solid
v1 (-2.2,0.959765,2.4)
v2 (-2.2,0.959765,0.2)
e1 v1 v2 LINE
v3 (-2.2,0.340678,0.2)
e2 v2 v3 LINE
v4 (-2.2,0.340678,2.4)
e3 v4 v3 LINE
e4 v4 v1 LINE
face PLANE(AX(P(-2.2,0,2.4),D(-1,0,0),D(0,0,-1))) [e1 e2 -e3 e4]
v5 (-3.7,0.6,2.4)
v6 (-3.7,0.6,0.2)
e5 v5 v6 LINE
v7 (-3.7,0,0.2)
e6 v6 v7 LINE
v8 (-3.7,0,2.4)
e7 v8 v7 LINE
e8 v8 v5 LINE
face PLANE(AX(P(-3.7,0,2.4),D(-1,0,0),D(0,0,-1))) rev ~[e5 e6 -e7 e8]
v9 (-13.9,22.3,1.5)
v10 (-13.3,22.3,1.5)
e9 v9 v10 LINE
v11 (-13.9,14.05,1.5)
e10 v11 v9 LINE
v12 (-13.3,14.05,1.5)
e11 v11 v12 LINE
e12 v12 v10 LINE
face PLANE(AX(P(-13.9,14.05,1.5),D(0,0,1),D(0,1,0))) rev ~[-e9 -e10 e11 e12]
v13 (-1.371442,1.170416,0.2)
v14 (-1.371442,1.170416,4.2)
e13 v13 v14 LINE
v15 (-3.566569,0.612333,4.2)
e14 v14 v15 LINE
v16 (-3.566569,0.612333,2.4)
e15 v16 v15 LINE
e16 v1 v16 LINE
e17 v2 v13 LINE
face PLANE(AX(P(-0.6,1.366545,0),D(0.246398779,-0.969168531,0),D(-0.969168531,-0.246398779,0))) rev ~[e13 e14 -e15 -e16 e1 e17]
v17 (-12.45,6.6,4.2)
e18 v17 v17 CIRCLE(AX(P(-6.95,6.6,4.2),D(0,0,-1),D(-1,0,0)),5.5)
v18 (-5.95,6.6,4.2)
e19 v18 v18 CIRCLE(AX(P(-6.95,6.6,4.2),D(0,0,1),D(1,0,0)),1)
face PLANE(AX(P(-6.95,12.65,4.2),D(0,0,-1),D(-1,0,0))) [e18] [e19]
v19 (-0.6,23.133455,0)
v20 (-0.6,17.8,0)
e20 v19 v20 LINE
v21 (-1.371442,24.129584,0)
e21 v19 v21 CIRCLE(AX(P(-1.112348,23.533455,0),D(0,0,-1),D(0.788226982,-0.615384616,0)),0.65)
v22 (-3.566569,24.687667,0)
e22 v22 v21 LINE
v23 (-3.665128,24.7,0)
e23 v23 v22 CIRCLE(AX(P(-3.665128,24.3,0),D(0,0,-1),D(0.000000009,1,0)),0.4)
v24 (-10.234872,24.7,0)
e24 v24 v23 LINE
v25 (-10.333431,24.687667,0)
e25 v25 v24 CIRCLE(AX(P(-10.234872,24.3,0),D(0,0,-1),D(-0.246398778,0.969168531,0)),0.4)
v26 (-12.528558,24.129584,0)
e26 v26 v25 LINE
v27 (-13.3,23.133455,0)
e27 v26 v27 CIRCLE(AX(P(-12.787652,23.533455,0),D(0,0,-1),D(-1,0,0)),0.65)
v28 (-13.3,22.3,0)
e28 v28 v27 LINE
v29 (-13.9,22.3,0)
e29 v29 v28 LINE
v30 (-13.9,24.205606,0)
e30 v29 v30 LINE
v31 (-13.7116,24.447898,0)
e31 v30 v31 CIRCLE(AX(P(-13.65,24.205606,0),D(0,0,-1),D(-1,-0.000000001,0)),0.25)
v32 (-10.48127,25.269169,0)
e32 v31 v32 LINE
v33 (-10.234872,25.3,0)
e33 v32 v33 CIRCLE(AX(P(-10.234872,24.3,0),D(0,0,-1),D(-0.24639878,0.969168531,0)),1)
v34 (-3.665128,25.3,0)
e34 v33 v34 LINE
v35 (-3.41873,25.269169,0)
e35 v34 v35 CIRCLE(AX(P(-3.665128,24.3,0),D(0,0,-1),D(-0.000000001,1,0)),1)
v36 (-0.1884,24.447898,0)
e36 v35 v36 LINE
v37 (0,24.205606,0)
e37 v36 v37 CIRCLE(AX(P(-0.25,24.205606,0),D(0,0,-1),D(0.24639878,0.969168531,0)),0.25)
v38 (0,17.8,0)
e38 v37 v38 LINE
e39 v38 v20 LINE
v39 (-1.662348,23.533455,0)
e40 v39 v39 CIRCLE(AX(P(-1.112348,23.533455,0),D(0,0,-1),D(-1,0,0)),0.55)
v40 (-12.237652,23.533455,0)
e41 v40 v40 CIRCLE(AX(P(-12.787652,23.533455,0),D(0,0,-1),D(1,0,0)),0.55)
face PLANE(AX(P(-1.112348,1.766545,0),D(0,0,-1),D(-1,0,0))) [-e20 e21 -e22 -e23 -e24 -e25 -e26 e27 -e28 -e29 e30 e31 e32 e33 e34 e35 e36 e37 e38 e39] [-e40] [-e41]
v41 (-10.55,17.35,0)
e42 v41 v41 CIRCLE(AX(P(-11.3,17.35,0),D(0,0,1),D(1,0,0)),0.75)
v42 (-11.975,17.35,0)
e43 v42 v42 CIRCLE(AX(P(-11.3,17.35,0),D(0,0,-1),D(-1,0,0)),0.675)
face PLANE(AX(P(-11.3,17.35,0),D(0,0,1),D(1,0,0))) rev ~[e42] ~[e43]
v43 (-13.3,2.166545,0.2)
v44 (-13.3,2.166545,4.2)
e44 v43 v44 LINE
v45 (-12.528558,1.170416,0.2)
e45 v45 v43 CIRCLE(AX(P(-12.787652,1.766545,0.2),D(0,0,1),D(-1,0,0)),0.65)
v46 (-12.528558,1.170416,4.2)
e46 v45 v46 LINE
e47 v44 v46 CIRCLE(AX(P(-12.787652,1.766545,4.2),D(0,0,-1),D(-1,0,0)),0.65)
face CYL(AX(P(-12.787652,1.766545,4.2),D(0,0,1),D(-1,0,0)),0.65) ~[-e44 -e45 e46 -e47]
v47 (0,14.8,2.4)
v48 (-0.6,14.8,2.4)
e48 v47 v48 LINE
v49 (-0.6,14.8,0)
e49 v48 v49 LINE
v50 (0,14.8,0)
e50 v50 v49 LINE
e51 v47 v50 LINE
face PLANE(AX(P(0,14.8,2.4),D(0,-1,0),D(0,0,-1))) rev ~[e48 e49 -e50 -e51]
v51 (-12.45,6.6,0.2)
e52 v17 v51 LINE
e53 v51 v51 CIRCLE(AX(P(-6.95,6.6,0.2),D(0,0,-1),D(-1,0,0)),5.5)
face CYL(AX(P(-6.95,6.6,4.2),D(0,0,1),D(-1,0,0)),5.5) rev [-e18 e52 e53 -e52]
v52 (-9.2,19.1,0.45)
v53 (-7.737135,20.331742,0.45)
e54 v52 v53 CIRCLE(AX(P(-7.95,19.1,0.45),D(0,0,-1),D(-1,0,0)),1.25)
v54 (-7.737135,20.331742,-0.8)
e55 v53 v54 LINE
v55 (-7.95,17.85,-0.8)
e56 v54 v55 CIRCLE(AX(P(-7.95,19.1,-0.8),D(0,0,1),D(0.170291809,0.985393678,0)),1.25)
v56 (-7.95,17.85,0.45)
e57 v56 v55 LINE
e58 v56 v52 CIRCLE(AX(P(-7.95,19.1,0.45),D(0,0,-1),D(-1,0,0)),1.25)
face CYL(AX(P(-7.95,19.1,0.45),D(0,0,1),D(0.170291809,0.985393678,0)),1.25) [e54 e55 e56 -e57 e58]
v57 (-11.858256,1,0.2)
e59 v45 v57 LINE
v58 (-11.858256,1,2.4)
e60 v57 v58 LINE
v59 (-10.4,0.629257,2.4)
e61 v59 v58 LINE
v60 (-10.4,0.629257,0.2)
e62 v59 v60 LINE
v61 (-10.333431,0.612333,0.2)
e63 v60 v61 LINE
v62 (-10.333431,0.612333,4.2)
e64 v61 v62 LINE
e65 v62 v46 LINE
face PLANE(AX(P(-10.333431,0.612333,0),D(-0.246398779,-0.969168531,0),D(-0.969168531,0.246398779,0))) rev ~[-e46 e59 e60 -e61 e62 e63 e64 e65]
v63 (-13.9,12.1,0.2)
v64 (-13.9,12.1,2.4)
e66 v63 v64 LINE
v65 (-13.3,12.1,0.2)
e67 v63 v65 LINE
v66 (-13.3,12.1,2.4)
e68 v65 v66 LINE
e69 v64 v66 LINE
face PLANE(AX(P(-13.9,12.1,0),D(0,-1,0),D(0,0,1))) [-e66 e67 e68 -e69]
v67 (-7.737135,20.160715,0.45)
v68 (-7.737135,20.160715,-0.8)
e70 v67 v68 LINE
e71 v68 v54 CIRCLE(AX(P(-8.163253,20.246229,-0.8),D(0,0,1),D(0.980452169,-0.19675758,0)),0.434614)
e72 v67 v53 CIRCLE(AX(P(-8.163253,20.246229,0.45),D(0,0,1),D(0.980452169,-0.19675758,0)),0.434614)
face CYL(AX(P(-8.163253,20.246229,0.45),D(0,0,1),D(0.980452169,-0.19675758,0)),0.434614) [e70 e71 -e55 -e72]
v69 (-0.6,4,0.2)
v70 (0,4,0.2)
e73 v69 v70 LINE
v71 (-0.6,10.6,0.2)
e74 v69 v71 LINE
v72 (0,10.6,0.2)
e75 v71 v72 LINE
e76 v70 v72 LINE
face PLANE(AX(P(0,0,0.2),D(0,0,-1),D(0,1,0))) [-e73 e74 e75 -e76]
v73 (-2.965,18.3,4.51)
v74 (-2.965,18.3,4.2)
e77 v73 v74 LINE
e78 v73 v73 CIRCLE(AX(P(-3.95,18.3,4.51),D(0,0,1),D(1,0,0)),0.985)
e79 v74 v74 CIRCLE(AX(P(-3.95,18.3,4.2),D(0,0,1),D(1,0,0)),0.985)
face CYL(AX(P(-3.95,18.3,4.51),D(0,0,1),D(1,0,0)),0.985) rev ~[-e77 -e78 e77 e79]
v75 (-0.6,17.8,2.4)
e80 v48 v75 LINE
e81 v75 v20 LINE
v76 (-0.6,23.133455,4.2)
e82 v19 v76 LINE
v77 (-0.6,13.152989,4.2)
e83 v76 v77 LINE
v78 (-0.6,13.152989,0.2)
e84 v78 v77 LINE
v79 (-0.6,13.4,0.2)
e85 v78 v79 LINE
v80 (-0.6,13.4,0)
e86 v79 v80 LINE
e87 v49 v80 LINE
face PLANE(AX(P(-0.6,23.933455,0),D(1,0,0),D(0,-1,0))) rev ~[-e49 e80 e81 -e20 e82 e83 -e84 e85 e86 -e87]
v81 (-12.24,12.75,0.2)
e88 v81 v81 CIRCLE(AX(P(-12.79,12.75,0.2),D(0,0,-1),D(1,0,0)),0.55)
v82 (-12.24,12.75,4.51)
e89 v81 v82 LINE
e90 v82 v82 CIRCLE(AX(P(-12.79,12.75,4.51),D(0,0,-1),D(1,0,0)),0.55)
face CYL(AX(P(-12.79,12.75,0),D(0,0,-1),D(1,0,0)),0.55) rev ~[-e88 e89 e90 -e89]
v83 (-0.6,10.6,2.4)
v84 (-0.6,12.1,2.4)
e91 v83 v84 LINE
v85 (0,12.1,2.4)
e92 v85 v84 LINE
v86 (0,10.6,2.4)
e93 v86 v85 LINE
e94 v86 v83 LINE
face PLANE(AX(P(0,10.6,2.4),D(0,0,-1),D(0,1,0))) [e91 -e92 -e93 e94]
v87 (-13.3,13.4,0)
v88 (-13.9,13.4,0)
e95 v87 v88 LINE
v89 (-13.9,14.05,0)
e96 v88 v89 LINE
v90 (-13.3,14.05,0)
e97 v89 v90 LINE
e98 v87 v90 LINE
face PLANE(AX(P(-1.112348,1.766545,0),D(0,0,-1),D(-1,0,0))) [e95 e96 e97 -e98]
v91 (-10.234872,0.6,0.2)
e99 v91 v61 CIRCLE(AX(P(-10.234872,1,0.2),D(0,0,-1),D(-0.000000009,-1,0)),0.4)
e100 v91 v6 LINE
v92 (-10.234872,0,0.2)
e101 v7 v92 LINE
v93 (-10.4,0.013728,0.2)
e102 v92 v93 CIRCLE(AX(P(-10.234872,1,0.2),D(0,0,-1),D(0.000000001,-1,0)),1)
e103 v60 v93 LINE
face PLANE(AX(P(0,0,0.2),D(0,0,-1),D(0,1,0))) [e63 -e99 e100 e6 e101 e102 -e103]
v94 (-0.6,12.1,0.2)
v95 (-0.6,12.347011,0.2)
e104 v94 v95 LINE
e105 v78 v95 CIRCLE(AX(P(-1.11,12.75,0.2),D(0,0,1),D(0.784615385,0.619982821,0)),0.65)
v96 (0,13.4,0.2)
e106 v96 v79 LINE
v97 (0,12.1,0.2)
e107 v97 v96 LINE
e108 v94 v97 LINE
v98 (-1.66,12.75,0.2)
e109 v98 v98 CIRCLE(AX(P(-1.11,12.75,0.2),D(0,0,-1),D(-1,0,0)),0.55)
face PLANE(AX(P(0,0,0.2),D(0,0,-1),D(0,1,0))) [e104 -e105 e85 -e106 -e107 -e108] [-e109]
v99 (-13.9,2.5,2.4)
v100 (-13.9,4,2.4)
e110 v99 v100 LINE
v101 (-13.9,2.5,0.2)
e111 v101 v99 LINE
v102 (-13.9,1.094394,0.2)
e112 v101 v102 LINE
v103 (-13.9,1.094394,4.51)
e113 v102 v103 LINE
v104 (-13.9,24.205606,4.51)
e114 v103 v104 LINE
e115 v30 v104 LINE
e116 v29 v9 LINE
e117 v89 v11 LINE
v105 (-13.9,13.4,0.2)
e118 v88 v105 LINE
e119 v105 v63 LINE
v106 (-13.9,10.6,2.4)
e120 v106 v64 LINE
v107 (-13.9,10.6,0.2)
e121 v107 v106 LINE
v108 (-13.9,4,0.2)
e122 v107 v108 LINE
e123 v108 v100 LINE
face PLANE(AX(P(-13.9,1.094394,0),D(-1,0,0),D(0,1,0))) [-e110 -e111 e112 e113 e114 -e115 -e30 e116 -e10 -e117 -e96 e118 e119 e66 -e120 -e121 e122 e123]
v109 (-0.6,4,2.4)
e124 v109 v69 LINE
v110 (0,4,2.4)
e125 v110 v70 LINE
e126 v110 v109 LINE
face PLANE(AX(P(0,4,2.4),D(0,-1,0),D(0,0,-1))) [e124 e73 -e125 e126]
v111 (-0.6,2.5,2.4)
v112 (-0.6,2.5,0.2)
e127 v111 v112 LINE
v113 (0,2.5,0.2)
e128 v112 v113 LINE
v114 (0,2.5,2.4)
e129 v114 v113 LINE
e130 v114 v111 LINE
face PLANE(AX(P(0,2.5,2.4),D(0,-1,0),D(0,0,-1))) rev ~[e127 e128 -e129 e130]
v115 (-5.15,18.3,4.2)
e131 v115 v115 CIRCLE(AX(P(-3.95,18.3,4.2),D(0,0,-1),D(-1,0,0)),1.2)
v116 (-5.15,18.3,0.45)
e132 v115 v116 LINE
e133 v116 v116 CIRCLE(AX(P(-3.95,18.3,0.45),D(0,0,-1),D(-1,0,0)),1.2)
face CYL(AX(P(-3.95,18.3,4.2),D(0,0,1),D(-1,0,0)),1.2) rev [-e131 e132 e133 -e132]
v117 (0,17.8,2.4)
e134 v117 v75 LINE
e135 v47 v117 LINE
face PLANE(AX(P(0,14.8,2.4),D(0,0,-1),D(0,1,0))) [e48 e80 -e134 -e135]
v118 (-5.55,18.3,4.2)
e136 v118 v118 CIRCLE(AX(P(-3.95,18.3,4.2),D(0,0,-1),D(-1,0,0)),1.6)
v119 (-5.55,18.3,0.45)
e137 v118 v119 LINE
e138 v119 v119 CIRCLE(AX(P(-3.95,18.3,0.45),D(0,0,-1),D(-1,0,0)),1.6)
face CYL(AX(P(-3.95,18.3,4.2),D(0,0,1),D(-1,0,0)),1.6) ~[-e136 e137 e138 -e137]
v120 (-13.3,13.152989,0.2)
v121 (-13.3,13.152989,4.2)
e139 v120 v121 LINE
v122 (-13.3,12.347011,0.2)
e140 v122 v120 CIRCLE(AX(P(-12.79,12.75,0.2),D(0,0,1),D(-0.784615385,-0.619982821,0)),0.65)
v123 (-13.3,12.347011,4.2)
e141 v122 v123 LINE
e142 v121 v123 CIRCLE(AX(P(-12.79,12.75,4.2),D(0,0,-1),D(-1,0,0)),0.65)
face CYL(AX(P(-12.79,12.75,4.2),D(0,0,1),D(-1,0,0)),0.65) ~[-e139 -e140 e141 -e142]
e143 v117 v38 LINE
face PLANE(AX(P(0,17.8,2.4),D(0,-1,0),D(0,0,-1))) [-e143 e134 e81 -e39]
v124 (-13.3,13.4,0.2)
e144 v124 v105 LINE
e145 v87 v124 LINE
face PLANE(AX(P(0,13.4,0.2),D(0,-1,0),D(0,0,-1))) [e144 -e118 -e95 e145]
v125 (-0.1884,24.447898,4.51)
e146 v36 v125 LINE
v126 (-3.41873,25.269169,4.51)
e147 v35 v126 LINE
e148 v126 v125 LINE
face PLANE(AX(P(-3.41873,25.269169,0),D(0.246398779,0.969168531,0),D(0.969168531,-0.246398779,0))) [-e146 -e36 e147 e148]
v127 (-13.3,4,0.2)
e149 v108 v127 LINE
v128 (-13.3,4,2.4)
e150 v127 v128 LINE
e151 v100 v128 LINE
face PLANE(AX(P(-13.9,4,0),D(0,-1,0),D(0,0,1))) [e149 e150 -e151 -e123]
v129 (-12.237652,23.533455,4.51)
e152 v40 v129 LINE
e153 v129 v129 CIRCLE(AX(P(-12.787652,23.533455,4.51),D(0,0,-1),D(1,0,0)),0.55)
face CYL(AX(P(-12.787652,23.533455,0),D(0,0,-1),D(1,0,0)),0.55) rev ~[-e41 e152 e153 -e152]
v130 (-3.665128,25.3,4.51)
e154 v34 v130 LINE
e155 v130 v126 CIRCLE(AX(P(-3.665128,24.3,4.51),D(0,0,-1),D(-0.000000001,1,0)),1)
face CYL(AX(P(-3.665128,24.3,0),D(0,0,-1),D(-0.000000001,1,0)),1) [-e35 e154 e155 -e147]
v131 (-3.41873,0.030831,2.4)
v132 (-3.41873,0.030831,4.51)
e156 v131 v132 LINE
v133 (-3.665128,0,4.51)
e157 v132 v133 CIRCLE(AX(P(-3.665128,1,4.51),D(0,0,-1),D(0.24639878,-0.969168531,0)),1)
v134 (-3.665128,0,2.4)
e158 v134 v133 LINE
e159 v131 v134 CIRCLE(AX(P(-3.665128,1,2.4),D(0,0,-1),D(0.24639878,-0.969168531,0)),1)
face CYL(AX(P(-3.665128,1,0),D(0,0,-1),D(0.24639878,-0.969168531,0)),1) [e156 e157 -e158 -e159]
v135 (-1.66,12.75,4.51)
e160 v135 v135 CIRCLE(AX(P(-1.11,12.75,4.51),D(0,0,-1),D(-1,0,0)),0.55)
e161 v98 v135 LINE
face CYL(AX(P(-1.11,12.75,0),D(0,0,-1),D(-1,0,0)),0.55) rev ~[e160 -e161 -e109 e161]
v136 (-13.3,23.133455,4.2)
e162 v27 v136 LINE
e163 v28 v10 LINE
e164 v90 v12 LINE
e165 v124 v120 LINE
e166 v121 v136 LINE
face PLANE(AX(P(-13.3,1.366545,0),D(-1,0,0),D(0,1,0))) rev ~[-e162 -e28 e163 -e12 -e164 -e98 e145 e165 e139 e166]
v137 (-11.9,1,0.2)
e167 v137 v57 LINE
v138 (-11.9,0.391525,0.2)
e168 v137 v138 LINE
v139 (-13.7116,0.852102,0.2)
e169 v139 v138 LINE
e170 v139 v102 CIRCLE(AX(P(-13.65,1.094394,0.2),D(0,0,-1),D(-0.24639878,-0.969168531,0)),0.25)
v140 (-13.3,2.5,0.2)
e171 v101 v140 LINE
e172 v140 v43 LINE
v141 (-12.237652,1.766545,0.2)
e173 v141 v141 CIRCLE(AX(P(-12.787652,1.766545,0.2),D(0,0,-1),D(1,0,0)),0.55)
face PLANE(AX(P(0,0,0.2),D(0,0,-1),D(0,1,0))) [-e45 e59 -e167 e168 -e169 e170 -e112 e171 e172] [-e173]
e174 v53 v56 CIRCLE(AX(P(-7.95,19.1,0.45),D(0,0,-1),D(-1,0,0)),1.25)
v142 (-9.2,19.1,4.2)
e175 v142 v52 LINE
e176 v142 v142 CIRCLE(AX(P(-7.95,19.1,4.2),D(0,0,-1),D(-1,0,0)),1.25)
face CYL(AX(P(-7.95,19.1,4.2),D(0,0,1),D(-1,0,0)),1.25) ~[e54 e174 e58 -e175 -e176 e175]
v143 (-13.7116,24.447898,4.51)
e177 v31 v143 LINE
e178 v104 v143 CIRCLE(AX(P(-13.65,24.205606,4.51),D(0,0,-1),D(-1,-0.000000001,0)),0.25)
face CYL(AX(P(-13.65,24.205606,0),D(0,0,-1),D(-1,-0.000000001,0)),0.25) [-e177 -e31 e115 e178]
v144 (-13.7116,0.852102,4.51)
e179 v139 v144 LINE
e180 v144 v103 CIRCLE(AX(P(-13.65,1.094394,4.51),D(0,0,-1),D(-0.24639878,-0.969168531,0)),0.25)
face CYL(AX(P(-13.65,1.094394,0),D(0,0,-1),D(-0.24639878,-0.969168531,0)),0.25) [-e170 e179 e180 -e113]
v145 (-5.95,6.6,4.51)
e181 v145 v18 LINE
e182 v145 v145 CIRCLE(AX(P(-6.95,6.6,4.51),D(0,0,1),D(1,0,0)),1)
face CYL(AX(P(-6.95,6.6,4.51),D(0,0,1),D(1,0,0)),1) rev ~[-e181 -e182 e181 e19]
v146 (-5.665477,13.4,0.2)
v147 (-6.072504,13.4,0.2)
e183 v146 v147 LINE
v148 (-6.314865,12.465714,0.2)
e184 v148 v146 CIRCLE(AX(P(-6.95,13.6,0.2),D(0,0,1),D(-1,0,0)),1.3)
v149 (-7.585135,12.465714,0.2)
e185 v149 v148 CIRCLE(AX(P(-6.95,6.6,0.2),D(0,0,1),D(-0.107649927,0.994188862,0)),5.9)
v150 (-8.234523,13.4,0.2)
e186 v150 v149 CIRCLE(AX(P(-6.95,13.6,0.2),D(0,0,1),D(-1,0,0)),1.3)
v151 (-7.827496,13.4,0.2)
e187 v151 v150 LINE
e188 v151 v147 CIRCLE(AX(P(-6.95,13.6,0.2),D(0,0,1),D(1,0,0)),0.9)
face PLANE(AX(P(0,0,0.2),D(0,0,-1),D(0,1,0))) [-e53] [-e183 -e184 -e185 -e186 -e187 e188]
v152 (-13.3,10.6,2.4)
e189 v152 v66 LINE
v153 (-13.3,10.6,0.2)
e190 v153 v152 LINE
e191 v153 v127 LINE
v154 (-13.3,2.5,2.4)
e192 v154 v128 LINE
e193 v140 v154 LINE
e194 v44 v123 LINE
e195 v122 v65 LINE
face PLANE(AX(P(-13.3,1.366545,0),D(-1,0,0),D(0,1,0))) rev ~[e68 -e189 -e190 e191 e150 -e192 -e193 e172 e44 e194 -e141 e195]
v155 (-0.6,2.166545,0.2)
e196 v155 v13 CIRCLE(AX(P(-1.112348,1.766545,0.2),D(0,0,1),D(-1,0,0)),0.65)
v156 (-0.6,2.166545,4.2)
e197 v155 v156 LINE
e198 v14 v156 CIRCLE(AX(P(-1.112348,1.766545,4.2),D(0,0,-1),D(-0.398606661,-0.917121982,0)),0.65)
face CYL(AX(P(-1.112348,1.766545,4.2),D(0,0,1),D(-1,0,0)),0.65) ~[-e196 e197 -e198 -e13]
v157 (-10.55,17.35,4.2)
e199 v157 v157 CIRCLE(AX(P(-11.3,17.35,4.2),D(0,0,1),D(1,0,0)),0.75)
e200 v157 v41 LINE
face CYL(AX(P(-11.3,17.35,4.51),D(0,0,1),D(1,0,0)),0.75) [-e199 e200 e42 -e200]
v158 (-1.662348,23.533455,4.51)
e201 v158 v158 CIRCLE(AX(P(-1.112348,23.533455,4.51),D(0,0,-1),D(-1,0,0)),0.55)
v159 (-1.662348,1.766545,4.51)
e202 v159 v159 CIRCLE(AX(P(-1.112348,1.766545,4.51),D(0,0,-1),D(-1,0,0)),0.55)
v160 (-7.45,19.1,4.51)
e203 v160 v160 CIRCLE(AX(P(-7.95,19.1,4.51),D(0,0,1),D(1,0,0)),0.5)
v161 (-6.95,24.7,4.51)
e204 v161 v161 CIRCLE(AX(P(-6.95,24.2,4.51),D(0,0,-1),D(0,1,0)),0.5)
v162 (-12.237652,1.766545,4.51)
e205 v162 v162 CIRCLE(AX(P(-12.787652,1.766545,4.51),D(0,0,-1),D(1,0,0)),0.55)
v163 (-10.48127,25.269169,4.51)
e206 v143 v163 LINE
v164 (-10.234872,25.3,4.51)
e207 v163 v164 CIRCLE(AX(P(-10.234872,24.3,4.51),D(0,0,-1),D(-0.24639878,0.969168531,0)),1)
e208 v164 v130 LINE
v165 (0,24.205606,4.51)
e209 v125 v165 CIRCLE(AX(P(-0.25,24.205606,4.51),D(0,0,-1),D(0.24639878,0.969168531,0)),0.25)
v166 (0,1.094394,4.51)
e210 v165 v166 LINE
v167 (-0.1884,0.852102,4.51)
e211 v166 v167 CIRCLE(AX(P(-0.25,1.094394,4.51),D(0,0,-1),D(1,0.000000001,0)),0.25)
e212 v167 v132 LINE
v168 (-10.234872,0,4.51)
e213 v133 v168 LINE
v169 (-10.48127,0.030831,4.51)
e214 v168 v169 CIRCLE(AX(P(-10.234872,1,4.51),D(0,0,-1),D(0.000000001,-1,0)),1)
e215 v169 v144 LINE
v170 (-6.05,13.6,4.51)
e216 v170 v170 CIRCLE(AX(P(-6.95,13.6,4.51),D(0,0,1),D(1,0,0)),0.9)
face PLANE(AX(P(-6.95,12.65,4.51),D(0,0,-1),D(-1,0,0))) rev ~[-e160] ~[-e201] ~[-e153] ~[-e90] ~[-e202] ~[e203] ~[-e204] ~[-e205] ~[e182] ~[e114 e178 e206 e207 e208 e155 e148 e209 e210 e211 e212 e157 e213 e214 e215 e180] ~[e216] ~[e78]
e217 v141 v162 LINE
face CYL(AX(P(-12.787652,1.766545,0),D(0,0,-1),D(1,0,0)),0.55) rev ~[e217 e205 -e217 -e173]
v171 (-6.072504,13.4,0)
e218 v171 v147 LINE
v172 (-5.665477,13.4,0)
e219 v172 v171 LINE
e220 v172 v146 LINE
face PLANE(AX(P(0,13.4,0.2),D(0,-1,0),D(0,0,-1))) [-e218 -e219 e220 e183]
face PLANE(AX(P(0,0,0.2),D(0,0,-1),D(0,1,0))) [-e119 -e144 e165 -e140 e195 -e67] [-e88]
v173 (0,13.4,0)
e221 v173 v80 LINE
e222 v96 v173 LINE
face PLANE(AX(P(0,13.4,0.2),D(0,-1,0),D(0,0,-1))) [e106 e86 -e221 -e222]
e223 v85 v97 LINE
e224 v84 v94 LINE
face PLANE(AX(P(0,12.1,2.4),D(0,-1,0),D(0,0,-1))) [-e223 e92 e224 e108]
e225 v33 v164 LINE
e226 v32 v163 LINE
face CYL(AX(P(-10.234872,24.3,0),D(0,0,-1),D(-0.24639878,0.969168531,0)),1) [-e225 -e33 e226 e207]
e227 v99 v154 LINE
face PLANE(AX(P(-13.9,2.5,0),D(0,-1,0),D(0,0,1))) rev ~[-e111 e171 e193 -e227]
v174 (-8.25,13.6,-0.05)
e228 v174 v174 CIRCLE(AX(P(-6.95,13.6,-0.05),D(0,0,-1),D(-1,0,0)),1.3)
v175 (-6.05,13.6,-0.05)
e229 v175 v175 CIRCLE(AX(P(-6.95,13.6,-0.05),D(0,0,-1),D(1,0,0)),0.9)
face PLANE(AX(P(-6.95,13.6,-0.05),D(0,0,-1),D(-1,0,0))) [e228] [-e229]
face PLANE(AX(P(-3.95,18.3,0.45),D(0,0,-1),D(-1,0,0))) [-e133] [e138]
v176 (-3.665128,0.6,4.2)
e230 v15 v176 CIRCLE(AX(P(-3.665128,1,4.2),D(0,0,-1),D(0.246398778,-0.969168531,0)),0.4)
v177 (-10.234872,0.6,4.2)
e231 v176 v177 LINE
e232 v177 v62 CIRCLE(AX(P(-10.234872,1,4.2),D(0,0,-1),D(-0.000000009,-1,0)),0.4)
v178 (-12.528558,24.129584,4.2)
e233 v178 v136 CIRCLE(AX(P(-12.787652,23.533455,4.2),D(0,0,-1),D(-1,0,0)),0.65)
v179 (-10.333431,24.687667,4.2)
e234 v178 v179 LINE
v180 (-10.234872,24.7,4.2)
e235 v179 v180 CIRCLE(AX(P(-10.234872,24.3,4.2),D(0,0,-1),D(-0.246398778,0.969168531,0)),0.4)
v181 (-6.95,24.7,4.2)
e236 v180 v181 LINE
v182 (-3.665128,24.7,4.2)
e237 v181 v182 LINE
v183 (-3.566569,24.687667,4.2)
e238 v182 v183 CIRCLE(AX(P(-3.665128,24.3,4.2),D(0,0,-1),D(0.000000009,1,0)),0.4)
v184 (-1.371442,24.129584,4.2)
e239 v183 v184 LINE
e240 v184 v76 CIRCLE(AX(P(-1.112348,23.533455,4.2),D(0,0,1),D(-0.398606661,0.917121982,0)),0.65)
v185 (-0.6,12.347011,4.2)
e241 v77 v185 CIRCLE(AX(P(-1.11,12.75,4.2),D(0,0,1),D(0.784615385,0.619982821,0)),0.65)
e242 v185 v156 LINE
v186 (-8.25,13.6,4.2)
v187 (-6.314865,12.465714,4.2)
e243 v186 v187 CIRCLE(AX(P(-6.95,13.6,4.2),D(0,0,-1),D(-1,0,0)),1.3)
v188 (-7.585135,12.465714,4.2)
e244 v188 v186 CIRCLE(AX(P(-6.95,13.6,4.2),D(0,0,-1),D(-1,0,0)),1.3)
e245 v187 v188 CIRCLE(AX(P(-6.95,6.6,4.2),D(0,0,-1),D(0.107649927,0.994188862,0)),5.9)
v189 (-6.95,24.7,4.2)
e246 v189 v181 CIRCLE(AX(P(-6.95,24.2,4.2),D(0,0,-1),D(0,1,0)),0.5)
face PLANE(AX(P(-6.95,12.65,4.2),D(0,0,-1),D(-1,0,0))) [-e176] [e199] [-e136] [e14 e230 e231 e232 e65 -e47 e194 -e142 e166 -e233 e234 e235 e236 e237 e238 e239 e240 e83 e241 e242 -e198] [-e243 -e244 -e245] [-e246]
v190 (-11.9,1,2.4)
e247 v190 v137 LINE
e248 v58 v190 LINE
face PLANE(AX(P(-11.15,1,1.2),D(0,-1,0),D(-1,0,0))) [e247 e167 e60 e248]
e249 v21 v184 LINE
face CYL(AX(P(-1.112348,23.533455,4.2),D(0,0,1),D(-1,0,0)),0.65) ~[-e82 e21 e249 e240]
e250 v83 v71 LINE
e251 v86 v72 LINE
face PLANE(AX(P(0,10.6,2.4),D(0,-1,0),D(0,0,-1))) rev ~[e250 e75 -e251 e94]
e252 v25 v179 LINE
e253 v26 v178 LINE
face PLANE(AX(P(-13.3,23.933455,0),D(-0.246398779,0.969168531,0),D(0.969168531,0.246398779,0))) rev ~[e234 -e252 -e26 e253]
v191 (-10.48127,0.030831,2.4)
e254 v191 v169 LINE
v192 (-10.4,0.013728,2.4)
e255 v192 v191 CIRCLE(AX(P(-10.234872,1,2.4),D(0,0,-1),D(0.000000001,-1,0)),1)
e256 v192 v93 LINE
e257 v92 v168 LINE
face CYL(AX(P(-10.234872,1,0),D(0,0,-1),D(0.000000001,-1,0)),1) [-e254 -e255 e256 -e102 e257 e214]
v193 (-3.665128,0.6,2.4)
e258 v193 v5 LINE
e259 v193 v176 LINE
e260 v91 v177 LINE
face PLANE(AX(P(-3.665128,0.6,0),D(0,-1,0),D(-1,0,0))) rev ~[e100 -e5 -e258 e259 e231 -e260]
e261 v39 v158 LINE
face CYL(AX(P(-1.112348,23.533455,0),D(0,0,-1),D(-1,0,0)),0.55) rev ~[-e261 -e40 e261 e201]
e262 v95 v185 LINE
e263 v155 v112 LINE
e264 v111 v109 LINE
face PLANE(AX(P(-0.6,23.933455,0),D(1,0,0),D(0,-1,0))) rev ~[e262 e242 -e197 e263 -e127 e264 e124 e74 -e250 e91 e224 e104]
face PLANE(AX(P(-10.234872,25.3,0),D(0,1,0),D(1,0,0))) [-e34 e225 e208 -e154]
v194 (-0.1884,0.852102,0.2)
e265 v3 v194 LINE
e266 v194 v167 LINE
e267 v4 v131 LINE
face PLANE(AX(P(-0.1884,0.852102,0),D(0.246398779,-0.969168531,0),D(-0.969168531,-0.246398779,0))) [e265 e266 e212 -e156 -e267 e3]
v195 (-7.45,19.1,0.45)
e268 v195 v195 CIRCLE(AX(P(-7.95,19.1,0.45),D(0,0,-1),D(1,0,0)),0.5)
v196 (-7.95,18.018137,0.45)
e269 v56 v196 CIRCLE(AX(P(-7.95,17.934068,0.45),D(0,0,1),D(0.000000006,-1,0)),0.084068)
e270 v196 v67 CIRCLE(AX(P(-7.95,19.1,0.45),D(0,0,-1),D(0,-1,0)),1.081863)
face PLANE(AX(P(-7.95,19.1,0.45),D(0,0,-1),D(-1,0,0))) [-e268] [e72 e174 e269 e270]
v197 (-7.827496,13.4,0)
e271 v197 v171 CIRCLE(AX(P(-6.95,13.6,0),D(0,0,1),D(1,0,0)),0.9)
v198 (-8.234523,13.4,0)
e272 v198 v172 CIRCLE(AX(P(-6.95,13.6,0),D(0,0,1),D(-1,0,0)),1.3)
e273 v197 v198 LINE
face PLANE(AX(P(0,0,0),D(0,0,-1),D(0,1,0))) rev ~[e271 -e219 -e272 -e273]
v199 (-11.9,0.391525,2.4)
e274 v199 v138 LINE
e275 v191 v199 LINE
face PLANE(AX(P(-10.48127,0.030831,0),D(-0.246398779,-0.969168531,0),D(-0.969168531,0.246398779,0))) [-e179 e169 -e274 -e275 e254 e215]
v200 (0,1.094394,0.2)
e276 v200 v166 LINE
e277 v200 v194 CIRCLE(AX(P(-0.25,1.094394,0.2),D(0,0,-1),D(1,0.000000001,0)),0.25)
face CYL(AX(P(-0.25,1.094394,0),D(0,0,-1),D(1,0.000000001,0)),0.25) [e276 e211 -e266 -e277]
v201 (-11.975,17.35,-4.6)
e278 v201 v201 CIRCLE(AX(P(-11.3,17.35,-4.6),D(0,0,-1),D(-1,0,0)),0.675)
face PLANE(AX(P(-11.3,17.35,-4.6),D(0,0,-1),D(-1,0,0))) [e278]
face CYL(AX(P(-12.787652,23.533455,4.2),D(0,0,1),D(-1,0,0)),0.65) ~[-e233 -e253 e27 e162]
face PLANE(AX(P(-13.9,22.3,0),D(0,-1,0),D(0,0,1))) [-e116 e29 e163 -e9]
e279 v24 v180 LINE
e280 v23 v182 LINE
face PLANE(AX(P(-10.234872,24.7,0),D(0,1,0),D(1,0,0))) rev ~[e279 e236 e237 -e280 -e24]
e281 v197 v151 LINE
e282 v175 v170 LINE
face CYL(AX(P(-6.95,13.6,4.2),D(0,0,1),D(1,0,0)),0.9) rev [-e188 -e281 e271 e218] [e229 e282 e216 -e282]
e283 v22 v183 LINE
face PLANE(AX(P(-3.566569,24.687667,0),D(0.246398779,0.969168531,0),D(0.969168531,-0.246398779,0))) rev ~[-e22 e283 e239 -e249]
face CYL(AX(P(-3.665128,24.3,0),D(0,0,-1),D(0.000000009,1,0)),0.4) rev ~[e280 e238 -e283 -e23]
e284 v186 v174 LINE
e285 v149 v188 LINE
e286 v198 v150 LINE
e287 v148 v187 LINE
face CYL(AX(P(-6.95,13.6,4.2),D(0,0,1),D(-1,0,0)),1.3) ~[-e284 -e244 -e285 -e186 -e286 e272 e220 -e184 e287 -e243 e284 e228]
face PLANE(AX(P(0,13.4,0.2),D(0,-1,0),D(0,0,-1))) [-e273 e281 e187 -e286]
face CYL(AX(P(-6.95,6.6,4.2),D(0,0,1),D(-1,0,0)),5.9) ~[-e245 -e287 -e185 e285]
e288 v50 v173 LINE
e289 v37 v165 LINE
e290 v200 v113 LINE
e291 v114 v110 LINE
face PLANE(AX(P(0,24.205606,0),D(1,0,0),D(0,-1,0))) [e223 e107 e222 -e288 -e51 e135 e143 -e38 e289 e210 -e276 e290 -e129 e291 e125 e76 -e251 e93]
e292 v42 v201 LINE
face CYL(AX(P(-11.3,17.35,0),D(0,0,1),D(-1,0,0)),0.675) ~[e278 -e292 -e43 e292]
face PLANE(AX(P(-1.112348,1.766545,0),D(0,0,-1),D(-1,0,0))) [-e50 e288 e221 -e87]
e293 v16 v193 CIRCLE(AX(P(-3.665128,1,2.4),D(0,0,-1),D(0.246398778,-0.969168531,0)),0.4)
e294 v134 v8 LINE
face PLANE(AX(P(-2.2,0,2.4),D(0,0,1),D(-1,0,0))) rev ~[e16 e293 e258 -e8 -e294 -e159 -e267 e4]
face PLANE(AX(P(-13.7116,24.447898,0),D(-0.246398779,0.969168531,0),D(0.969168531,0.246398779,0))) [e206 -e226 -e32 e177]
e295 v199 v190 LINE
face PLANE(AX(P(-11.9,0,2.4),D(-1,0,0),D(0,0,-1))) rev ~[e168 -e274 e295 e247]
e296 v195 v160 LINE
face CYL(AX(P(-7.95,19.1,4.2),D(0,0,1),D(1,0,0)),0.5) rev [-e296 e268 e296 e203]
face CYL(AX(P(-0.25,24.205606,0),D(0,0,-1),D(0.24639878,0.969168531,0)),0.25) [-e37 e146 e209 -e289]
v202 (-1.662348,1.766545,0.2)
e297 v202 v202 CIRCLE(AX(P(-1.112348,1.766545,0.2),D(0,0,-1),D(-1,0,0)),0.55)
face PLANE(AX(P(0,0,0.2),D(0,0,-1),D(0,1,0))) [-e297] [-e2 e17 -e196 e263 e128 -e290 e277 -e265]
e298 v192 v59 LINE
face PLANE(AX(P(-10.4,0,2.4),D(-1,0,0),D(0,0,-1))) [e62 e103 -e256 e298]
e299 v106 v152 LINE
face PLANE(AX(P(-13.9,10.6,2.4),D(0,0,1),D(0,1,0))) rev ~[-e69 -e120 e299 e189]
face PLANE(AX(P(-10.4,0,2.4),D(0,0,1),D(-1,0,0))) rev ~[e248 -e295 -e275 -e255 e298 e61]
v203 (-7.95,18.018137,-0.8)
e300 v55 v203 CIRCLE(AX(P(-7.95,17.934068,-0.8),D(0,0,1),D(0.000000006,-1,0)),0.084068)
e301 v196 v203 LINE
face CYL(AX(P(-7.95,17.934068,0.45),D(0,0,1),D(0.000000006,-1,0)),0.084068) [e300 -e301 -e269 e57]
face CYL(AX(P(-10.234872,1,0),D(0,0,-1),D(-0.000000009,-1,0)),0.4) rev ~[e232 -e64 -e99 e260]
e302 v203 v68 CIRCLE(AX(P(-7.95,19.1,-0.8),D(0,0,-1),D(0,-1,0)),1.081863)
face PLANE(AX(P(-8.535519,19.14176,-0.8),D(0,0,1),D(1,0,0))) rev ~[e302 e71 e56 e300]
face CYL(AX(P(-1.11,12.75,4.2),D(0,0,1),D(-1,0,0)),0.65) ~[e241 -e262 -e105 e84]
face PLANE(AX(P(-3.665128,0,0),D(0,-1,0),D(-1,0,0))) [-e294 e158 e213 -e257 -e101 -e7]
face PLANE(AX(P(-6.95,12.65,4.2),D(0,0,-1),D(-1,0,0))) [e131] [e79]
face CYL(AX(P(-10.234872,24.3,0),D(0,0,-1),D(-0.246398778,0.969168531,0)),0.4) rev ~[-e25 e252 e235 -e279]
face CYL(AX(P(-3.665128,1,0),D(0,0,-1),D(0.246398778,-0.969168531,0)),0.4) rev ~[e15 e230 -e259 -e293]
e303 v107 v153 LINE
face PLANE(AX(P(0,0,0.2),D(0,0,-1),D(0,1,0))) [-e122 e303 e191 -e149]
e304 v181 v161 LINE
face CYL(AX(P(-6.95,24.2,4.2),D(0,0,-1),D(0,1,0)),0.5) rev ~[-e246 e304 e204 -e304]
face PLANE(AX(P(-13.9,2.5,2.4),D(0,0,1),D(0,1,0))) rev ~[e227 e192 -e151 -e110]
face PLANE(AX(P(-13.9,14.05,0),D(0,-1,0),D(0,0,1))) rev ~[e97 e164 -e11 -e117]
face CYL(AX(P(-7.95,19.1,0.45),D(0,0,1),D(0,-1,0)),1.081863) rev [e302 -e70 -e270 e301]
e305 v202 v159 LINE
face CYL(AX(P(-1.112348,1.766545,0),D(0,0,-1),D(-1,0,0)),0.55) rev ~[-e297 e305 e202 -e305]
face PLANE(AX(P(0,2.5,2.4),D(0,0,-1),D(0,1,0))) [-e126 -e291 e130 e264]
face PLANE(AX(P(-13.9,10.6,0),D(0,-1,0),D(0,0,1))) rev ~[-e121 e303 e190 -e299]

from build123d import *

# Parameters (mm, degrees)
BOSS_EXTRUDE1_DEPTH = 4.51
CUT_EXTRUDE1_DEPTH  = 4.2
SKETCH6_R           = 0.65
BOSS_EXTRUDE2_DEPTH = 4.2
SKETCH7_R           = 0.55
CUT_EXTRUDE2_DEPTH  = 4.6
SKETCH8_R           = 0.5
CUT_EXTRUDE3_DEPTH  = 3.5
SKETCH10_R          = 0.5
SKETCH10_R_2        = 0.985
SKETCH10_R_3        = 0.9
SKETCH10_R_4        = 1
SKETCH10_R_5        = 0.75
CUT_EXTRUDE4_DEPTH  = 10
SKETCH16_W          = 2.4
SKETCH16_H          = 3
SKETCH16_H_2        = 1.5
CUT_EXTRUDE5_DEPTH  = 0.6
SKETCH18_W          = 1.5
SKETCH18_H          = 2.4
CUT_EXTRUDE6_DEPTH  = 1
SKETCH21_W          = 2.4
SKETCH21_H          = 1.5
SKETCH21_W_2        = 1.5
SKETCH21_H_2        = 8.25
CUT_EXTRUDE7_DEPTH  = 0.6
SKETCH22_R          = 1.3
SKETCH22_R_2        = 0.9
BOSS_EXTRUDE3_DEPTH = 4.25
SKETCH23_R          = 5.9
SKETCH23_R_2        = 5.5
BOSS_EXTRUDE4_DEPTH = 4
SKETCH24_R          = 1.6
SKETCH24_R_2        = 1.2
SKETCH24_R_3        = 1.25
SKETCH24_R_4        = 0.5
BOSS_EXTRUDE5_DEPTH = 3.75
SKETCH26_R          = 0.75
BOSS_EXTRUDE6_DEPTH = 4.51
SKETCH27_R          = 0.675
BOSS_EXTRUDE7_DEPTH = 4.6
BOSS_EXTRUDE8_DEPTH = 1.25
SKETCH29_W          = 0.2
SKETCH29_H          = 13.4
CUT_EXTRUDE8_DEPTH  = 15


with BuildPart() as part:
    # Sketch4 → Boss-Extrude1 (new body)
    with BuildSketch(Plane.XY):
        with BuildLine():
            ThreePointArc((-13.711599695, 0.852101617), (-13.847357447, 0.940933533), (-13.9, 1.09439375))
            Line((-13.9, 1.09439375), (-13.9, 24.20560625))
            ThreePointArc((-13.9, 24.20560625), (-13.847357447, 24.359066467), (-13.711599695, 24.447898383))
            Line((-13.711599695, 24.447898383), (-10.481270444, 25.269168531))
            ThreePointArc((-10.481270444, 25.269168531), (-10.359031781, 25.292262196), (-10.234871665, 25.3))
            Line((-10.234871665, 25.3), (-3.665128335, 25.3))
            ThreePointArc((-3.665128335, 25.3), (-3.540968219, 25.292262196), (-3.418729556, 25.269168531))
            Line((-3.418729556, 25.269168531), (-0.188400305, 24.447898383))
            ThreePointArc((-0.188400305, 24.447898383), (-0.052642553, 24.359066467), (0, 24.20560625))
            Line((0, 24.20560625), (0, 1.09439375))
            ThreePointArc((0, 1.09439375), (-0.052642553, 0.940933533), (-0.188400305, 0.852101617))
            Line((-0.188400305, 0.852101617), (-3.418729556, 0.030831469))
            ThreePointArc((-3.418729556, 0.030831469), (-3.540968219, 0.007737804), (-3.665128335, 0))
            Line((-3.665128335, 0), (-10.234871665, 0))
            ThreePointArc((-10.234871665, 0), (-10.359031781, 0.007737804), (-10.481270444, 0.030831469))
            Line((-10.481270444, 0.030831469), (-13.711599695, 0.852101617))
        make_face()
    extrude(amount=BOSS_EXTRUDE1_DEPTH)

    # Sketch5 → Cut-Extrude1 (cut)
    with BuildSketch(Plane(origin=(0, 0, 0), x_dir=(-1, 0, 0), z_dir=(0, 0, -1))):
        with BuildLine():
            Line((13.3, 1.366545), (13.3, 23.933455))
            Line((13.3, 23.933455), (10.333431177, 24.687667412))
            ThreePointArc((10.333431177, 24.687667412), (10.284535712, 24.696904878), (10.234871665, 24.7))
            Line((10.234871665, 24.7), (3.665128335, 24.7))
            ThreePointArc((3.665128335, 24.7), (3.615464288, 24.696904878), (3.566568823, 24.687667412))
            Line((3.566568823, 24.687667412), (0.6, 23.933455))
            Line((0.6, 23.933455), (0.6, 1.366545))
            Line((0.6, 1.366545), (3.566568823, 0.612332588))
            ThreePointArc((3.566568823, 0.612332588), (3.615464288, 0.603095122), (3.665128335, 0.6))
            Line((3.665128335, 0.6), (10.234871665, 0.6))
            ThreePointArc((10.234871665, 0.6), (10.284535712, 0.603095122), (10.333431177, 0.612332588))
            Line((10.333431177, 0.612332588), (13.3, 1.366545))
        make_face()
    extrude(amount=-CUT_EXTRUDE1_DEPTH, mode=Mode.SUBTRACT)

    # Sketch6 → Boss-Extrude2 (add)
    with BuildSketch(Plane(origin=(0, 0, 4.2), x_dir=(-1, 0, 0), z_dir=(0, 0, -1))):
        with Locations((1.112347538, 1.766545)):
            Circle(SKETCH6_R)
        with Locations((1.112347538, 23.533455)):
            Circle(SKETCH6_R)
        with Locations((1.11, 12.75)):
            Circle(SKETCH6_R)
        with Locations((12.787652462, 23.533455)):
            Circle(SKETCH6_R)
        with Locations((12.787652462, 1.766545)):
            Circle(SKETCH6_R)
        with Locations((12.79, 12.75)):
            Circle(SKETCH6_R)
    extrude(amount=BOSS_EXTRUDE2_DEPTH)

    # Sketch7 → Cut-Extrude2 (cut)
    with BuildSketch(Plane(origin=(0, 0, 0), x_dir=(-1, 0, 0), z_dir=(0, 0, -1))):
        with Locations((1.112347538, 1.766545)):
            Circle(SKETCH7_R)
        with Locations((1.11, 12.75)):
            Circle(SKETCH7_R)
        with Locations((1.112347538, 23.533455)):
            Circle(SKETCH7_R)
        with Locations(Location((12.787652462, 1.766545, 0), (0, 0, 180))):
            Circle(SKETCH7_R)
        with Locations(Location((12.787652462, 23.533455, 0), (0, 0, 180))):
            Circle(SKETCH7_R)
        with Locations(Location((12.79, 12.75, 0), (0, 0, 180))):
            Circle(SKETCH7_R)
    extrude(amount=-CUT_EXTRUDE2_DEPTH, mode=Mode.SUBTRACT)

    # Sketch8 → Cut-Extrude3 (cut)
    with BuildSketch(Plane(origin=(0, 0, 4.2), x_dir=(-1, 0, 0), z_dir=(0, 0, -1))):
        with Locations(Location((6.95, 24.2, 0), (0, 0, 90))):
            Circle(SKETCH8_R)
    extrude(amount=-CUT_EXTRUDE3_DEPTH, mode=Mode.SUBTRACT)

    # Sketch10 → Cut-Extrude4 (cut)
    with BuildSketch(Plane.XY.offset(4.51)):
        with Locations((-7.95, 19.1)):
            Circle(SKETCH10_R)
        with Locations((-3.95, 18.3)):
            Circle(SKETCH10_R_2)
        with Locations((-6.95, 13.6)):
            Circle(SKETCH10_R_3)
        with Locations((-6.95, 6.6)):
            Circle(SKETCH10_R_4)
        with Locations((-11.3, 17.35)):
            Circle(SKETCH10_R_5)
    extrude(amount=-CUT_EXTRUDE4_DEPTH, mode=Mode.SUBTRACT)

    # Sketch16 → Cut-Extrude5 (cut)
    with BuildSketch(Plane(origin=(0, 0, 0), x_dir=(0, 0, -1), z_dir=(1, 0, 0))):
        with Locations((-1.2, 16.3)):
            Rectangle(SKETCH16_W, SKETCH16_H)
        with Locations((-1.2, 11.35)):
            Rectangle(SKETCH16_W, SKETCH16_H_2)
        with Locations((-1.2, 3.25)):
            Rectangle(SKETCH16_W, SKETCH16_H_2)
    extrude(amount=-CUT_EXTRUDE5_DEPTH, mode=Mode.SUBTRACT)

    # Sketch18 → Cut-Extrude6 (cut)
    with BuildSketch(Plane(origin=(0, 0, 0), x_dir=(-1, 0, 0), z_dir=(0, -1, 0))):
        with Locations((2.95, -1.2)):
            Rectangle(SKETCH18_W, SKETCH18_H)
        with Locations((11.15, -1.2)):
            Rectangle(SKETCH18_W, SKETCH18_H)
    extrude(amount=-CUT_EXTRUDE6_DEPTH, mode=Mode.SUBTRACT)

    # Sketch21 → Cut-Extrude7 (cut)
    with BuildSketch(Plane.ZY.offset(13.9)):
        with Locations((1.2, 3.25)):
            Rectangle(SKETCH21_W, SKETCH21_H)
        with Locations((1.2, 11.35)):
            Rectangle(SKETCH21_W, SKETCH21_H)
        with Locations((0.75, 18.175)):
            Rectangle(SKETCH21_W_2, SKETCH21_H_2)
    extrude(amount=-CUT_EXTRUDE7_DEPTH, mode=Mode.SUBTRACT)

    # Sketch22 → Boss-Extrude3 (add)
    with BuildSketch(Plane(origin=(0, 0, 4.2), x_dir=(-1, 0, 0), z_dir=(0, 0, -1))):
        with Locations((6.95, 13.6)):
            Circle(SKETCH22_R)
        with Locations(Location((6.95, 13.6, 0), (0, 0, 180))):
            Circle(SKETCH22_R_2, mode=Mode.SUBTRACT)
    extrude(amount=BOSS_EXTRUDE3_DEPTH)

    # Sketch23 → Boss-Extrude4 (add)
    with BuildSketch(Plane(origin=(0, 0, 4.2), x_dir=(-1, 0, 0), z_dir=(0, 0, -1))):
        with Locations((6.95, 6.6)):
            Circle(SKETCH23_R)
        with Locations((6.95, 6.6)):
            Circle(SKETCH23_R_2, mode=Mode.SUBTRACT)
    extrude(amount=BOSS_EXTRUDE4_DEPTH)

    # Sketch24 → Boss-Extrude5 (add)
    with BuildSketch(Plane(origin=(0, 0, 4.2), x_dir=(-1, 0, 0), z_dir=(0, 0, -1))):
        with Locations((3.95, 18.3)):
            Circle(SKETCH24_R)
        with Locations((3.95, 18.3)):
            Circle(SKETCH24_R_2, mode=Mode.SUBTRACT)
        with Locations((7.95, 19.1)):
            Circle(SKETCH24_R_3)
        with Locations(Location((7.95, 19.1, 0), (0, 0, 180))):
            Circle(SKETCH24_R_4, mode=Mode.SUBTRACT)
    extrude(amount=BOSS_EXTRUDE5_DEPTH)

    # Sketch26 → Boss-Extrude6 (add)
    with BuildSketch(Plane.XY.offset(4.51)):
        with Locations((-11.3, 17.35)):
            Circle(SKETCH26_R)
    extrude(amount=-BOSS_EXTRUDE6_DEPTH)

    # Sketch27 → Boss-Extrude7 (add)
    with BuildSketch(Plane(origin=(0, 0, 0), x_dir=(-1, 0, 0), z_dir=(0, 0, -1))):
        with Locations((11.3, 17.35)):
            Circle(SKETCH27_R)
    extrude(amount=BOSS_EXTRUDE7_DEPTH)

    # Sketch28 → Boss-Extrude8 (add)
    with BuildSketch(Plane(origin=(0, 0, 0.45), x_dir=(-1, 0, 0), z_dir=(0, 0, -1))):
        with BuildLine():
            ThreePointArc((7.737135239, 20.331742097), (9.19542716, 19.206823169), (7.95, 17.85))
            ThreePointArc((7.95, 17.85), (7.865931561, 17.934068439), (7.95, 18.018136879))
            ThreePointArc((7.95, 18.018136879), (9.02656312, 19.206956355), (7.737135239, 20.160715045))
            ThreePointArc((7.737135239, 20.160715045), (7.728639485, 20.246228571), (7.737135239, 20.331742097))
        make_face()
    extrude(amount=BOSS_EXTRUDE8_DEPTH)

    # Sketch29 → Cut-Extrude8 (cut)
    with BuildSketch(Plane(origin=(0, 0, 0), x_dir=(0, 0, -1), z_dir=(1, 0, 0))):
        with Locations((-0.1, 6.7)):
            Rectangle(SKETCH29_W, SKETCH29_H)
    extrude(amount=-CUT_EXTRUDE8_DEPTH, mode=Mode.SUBTRACT)


solid = part.part
